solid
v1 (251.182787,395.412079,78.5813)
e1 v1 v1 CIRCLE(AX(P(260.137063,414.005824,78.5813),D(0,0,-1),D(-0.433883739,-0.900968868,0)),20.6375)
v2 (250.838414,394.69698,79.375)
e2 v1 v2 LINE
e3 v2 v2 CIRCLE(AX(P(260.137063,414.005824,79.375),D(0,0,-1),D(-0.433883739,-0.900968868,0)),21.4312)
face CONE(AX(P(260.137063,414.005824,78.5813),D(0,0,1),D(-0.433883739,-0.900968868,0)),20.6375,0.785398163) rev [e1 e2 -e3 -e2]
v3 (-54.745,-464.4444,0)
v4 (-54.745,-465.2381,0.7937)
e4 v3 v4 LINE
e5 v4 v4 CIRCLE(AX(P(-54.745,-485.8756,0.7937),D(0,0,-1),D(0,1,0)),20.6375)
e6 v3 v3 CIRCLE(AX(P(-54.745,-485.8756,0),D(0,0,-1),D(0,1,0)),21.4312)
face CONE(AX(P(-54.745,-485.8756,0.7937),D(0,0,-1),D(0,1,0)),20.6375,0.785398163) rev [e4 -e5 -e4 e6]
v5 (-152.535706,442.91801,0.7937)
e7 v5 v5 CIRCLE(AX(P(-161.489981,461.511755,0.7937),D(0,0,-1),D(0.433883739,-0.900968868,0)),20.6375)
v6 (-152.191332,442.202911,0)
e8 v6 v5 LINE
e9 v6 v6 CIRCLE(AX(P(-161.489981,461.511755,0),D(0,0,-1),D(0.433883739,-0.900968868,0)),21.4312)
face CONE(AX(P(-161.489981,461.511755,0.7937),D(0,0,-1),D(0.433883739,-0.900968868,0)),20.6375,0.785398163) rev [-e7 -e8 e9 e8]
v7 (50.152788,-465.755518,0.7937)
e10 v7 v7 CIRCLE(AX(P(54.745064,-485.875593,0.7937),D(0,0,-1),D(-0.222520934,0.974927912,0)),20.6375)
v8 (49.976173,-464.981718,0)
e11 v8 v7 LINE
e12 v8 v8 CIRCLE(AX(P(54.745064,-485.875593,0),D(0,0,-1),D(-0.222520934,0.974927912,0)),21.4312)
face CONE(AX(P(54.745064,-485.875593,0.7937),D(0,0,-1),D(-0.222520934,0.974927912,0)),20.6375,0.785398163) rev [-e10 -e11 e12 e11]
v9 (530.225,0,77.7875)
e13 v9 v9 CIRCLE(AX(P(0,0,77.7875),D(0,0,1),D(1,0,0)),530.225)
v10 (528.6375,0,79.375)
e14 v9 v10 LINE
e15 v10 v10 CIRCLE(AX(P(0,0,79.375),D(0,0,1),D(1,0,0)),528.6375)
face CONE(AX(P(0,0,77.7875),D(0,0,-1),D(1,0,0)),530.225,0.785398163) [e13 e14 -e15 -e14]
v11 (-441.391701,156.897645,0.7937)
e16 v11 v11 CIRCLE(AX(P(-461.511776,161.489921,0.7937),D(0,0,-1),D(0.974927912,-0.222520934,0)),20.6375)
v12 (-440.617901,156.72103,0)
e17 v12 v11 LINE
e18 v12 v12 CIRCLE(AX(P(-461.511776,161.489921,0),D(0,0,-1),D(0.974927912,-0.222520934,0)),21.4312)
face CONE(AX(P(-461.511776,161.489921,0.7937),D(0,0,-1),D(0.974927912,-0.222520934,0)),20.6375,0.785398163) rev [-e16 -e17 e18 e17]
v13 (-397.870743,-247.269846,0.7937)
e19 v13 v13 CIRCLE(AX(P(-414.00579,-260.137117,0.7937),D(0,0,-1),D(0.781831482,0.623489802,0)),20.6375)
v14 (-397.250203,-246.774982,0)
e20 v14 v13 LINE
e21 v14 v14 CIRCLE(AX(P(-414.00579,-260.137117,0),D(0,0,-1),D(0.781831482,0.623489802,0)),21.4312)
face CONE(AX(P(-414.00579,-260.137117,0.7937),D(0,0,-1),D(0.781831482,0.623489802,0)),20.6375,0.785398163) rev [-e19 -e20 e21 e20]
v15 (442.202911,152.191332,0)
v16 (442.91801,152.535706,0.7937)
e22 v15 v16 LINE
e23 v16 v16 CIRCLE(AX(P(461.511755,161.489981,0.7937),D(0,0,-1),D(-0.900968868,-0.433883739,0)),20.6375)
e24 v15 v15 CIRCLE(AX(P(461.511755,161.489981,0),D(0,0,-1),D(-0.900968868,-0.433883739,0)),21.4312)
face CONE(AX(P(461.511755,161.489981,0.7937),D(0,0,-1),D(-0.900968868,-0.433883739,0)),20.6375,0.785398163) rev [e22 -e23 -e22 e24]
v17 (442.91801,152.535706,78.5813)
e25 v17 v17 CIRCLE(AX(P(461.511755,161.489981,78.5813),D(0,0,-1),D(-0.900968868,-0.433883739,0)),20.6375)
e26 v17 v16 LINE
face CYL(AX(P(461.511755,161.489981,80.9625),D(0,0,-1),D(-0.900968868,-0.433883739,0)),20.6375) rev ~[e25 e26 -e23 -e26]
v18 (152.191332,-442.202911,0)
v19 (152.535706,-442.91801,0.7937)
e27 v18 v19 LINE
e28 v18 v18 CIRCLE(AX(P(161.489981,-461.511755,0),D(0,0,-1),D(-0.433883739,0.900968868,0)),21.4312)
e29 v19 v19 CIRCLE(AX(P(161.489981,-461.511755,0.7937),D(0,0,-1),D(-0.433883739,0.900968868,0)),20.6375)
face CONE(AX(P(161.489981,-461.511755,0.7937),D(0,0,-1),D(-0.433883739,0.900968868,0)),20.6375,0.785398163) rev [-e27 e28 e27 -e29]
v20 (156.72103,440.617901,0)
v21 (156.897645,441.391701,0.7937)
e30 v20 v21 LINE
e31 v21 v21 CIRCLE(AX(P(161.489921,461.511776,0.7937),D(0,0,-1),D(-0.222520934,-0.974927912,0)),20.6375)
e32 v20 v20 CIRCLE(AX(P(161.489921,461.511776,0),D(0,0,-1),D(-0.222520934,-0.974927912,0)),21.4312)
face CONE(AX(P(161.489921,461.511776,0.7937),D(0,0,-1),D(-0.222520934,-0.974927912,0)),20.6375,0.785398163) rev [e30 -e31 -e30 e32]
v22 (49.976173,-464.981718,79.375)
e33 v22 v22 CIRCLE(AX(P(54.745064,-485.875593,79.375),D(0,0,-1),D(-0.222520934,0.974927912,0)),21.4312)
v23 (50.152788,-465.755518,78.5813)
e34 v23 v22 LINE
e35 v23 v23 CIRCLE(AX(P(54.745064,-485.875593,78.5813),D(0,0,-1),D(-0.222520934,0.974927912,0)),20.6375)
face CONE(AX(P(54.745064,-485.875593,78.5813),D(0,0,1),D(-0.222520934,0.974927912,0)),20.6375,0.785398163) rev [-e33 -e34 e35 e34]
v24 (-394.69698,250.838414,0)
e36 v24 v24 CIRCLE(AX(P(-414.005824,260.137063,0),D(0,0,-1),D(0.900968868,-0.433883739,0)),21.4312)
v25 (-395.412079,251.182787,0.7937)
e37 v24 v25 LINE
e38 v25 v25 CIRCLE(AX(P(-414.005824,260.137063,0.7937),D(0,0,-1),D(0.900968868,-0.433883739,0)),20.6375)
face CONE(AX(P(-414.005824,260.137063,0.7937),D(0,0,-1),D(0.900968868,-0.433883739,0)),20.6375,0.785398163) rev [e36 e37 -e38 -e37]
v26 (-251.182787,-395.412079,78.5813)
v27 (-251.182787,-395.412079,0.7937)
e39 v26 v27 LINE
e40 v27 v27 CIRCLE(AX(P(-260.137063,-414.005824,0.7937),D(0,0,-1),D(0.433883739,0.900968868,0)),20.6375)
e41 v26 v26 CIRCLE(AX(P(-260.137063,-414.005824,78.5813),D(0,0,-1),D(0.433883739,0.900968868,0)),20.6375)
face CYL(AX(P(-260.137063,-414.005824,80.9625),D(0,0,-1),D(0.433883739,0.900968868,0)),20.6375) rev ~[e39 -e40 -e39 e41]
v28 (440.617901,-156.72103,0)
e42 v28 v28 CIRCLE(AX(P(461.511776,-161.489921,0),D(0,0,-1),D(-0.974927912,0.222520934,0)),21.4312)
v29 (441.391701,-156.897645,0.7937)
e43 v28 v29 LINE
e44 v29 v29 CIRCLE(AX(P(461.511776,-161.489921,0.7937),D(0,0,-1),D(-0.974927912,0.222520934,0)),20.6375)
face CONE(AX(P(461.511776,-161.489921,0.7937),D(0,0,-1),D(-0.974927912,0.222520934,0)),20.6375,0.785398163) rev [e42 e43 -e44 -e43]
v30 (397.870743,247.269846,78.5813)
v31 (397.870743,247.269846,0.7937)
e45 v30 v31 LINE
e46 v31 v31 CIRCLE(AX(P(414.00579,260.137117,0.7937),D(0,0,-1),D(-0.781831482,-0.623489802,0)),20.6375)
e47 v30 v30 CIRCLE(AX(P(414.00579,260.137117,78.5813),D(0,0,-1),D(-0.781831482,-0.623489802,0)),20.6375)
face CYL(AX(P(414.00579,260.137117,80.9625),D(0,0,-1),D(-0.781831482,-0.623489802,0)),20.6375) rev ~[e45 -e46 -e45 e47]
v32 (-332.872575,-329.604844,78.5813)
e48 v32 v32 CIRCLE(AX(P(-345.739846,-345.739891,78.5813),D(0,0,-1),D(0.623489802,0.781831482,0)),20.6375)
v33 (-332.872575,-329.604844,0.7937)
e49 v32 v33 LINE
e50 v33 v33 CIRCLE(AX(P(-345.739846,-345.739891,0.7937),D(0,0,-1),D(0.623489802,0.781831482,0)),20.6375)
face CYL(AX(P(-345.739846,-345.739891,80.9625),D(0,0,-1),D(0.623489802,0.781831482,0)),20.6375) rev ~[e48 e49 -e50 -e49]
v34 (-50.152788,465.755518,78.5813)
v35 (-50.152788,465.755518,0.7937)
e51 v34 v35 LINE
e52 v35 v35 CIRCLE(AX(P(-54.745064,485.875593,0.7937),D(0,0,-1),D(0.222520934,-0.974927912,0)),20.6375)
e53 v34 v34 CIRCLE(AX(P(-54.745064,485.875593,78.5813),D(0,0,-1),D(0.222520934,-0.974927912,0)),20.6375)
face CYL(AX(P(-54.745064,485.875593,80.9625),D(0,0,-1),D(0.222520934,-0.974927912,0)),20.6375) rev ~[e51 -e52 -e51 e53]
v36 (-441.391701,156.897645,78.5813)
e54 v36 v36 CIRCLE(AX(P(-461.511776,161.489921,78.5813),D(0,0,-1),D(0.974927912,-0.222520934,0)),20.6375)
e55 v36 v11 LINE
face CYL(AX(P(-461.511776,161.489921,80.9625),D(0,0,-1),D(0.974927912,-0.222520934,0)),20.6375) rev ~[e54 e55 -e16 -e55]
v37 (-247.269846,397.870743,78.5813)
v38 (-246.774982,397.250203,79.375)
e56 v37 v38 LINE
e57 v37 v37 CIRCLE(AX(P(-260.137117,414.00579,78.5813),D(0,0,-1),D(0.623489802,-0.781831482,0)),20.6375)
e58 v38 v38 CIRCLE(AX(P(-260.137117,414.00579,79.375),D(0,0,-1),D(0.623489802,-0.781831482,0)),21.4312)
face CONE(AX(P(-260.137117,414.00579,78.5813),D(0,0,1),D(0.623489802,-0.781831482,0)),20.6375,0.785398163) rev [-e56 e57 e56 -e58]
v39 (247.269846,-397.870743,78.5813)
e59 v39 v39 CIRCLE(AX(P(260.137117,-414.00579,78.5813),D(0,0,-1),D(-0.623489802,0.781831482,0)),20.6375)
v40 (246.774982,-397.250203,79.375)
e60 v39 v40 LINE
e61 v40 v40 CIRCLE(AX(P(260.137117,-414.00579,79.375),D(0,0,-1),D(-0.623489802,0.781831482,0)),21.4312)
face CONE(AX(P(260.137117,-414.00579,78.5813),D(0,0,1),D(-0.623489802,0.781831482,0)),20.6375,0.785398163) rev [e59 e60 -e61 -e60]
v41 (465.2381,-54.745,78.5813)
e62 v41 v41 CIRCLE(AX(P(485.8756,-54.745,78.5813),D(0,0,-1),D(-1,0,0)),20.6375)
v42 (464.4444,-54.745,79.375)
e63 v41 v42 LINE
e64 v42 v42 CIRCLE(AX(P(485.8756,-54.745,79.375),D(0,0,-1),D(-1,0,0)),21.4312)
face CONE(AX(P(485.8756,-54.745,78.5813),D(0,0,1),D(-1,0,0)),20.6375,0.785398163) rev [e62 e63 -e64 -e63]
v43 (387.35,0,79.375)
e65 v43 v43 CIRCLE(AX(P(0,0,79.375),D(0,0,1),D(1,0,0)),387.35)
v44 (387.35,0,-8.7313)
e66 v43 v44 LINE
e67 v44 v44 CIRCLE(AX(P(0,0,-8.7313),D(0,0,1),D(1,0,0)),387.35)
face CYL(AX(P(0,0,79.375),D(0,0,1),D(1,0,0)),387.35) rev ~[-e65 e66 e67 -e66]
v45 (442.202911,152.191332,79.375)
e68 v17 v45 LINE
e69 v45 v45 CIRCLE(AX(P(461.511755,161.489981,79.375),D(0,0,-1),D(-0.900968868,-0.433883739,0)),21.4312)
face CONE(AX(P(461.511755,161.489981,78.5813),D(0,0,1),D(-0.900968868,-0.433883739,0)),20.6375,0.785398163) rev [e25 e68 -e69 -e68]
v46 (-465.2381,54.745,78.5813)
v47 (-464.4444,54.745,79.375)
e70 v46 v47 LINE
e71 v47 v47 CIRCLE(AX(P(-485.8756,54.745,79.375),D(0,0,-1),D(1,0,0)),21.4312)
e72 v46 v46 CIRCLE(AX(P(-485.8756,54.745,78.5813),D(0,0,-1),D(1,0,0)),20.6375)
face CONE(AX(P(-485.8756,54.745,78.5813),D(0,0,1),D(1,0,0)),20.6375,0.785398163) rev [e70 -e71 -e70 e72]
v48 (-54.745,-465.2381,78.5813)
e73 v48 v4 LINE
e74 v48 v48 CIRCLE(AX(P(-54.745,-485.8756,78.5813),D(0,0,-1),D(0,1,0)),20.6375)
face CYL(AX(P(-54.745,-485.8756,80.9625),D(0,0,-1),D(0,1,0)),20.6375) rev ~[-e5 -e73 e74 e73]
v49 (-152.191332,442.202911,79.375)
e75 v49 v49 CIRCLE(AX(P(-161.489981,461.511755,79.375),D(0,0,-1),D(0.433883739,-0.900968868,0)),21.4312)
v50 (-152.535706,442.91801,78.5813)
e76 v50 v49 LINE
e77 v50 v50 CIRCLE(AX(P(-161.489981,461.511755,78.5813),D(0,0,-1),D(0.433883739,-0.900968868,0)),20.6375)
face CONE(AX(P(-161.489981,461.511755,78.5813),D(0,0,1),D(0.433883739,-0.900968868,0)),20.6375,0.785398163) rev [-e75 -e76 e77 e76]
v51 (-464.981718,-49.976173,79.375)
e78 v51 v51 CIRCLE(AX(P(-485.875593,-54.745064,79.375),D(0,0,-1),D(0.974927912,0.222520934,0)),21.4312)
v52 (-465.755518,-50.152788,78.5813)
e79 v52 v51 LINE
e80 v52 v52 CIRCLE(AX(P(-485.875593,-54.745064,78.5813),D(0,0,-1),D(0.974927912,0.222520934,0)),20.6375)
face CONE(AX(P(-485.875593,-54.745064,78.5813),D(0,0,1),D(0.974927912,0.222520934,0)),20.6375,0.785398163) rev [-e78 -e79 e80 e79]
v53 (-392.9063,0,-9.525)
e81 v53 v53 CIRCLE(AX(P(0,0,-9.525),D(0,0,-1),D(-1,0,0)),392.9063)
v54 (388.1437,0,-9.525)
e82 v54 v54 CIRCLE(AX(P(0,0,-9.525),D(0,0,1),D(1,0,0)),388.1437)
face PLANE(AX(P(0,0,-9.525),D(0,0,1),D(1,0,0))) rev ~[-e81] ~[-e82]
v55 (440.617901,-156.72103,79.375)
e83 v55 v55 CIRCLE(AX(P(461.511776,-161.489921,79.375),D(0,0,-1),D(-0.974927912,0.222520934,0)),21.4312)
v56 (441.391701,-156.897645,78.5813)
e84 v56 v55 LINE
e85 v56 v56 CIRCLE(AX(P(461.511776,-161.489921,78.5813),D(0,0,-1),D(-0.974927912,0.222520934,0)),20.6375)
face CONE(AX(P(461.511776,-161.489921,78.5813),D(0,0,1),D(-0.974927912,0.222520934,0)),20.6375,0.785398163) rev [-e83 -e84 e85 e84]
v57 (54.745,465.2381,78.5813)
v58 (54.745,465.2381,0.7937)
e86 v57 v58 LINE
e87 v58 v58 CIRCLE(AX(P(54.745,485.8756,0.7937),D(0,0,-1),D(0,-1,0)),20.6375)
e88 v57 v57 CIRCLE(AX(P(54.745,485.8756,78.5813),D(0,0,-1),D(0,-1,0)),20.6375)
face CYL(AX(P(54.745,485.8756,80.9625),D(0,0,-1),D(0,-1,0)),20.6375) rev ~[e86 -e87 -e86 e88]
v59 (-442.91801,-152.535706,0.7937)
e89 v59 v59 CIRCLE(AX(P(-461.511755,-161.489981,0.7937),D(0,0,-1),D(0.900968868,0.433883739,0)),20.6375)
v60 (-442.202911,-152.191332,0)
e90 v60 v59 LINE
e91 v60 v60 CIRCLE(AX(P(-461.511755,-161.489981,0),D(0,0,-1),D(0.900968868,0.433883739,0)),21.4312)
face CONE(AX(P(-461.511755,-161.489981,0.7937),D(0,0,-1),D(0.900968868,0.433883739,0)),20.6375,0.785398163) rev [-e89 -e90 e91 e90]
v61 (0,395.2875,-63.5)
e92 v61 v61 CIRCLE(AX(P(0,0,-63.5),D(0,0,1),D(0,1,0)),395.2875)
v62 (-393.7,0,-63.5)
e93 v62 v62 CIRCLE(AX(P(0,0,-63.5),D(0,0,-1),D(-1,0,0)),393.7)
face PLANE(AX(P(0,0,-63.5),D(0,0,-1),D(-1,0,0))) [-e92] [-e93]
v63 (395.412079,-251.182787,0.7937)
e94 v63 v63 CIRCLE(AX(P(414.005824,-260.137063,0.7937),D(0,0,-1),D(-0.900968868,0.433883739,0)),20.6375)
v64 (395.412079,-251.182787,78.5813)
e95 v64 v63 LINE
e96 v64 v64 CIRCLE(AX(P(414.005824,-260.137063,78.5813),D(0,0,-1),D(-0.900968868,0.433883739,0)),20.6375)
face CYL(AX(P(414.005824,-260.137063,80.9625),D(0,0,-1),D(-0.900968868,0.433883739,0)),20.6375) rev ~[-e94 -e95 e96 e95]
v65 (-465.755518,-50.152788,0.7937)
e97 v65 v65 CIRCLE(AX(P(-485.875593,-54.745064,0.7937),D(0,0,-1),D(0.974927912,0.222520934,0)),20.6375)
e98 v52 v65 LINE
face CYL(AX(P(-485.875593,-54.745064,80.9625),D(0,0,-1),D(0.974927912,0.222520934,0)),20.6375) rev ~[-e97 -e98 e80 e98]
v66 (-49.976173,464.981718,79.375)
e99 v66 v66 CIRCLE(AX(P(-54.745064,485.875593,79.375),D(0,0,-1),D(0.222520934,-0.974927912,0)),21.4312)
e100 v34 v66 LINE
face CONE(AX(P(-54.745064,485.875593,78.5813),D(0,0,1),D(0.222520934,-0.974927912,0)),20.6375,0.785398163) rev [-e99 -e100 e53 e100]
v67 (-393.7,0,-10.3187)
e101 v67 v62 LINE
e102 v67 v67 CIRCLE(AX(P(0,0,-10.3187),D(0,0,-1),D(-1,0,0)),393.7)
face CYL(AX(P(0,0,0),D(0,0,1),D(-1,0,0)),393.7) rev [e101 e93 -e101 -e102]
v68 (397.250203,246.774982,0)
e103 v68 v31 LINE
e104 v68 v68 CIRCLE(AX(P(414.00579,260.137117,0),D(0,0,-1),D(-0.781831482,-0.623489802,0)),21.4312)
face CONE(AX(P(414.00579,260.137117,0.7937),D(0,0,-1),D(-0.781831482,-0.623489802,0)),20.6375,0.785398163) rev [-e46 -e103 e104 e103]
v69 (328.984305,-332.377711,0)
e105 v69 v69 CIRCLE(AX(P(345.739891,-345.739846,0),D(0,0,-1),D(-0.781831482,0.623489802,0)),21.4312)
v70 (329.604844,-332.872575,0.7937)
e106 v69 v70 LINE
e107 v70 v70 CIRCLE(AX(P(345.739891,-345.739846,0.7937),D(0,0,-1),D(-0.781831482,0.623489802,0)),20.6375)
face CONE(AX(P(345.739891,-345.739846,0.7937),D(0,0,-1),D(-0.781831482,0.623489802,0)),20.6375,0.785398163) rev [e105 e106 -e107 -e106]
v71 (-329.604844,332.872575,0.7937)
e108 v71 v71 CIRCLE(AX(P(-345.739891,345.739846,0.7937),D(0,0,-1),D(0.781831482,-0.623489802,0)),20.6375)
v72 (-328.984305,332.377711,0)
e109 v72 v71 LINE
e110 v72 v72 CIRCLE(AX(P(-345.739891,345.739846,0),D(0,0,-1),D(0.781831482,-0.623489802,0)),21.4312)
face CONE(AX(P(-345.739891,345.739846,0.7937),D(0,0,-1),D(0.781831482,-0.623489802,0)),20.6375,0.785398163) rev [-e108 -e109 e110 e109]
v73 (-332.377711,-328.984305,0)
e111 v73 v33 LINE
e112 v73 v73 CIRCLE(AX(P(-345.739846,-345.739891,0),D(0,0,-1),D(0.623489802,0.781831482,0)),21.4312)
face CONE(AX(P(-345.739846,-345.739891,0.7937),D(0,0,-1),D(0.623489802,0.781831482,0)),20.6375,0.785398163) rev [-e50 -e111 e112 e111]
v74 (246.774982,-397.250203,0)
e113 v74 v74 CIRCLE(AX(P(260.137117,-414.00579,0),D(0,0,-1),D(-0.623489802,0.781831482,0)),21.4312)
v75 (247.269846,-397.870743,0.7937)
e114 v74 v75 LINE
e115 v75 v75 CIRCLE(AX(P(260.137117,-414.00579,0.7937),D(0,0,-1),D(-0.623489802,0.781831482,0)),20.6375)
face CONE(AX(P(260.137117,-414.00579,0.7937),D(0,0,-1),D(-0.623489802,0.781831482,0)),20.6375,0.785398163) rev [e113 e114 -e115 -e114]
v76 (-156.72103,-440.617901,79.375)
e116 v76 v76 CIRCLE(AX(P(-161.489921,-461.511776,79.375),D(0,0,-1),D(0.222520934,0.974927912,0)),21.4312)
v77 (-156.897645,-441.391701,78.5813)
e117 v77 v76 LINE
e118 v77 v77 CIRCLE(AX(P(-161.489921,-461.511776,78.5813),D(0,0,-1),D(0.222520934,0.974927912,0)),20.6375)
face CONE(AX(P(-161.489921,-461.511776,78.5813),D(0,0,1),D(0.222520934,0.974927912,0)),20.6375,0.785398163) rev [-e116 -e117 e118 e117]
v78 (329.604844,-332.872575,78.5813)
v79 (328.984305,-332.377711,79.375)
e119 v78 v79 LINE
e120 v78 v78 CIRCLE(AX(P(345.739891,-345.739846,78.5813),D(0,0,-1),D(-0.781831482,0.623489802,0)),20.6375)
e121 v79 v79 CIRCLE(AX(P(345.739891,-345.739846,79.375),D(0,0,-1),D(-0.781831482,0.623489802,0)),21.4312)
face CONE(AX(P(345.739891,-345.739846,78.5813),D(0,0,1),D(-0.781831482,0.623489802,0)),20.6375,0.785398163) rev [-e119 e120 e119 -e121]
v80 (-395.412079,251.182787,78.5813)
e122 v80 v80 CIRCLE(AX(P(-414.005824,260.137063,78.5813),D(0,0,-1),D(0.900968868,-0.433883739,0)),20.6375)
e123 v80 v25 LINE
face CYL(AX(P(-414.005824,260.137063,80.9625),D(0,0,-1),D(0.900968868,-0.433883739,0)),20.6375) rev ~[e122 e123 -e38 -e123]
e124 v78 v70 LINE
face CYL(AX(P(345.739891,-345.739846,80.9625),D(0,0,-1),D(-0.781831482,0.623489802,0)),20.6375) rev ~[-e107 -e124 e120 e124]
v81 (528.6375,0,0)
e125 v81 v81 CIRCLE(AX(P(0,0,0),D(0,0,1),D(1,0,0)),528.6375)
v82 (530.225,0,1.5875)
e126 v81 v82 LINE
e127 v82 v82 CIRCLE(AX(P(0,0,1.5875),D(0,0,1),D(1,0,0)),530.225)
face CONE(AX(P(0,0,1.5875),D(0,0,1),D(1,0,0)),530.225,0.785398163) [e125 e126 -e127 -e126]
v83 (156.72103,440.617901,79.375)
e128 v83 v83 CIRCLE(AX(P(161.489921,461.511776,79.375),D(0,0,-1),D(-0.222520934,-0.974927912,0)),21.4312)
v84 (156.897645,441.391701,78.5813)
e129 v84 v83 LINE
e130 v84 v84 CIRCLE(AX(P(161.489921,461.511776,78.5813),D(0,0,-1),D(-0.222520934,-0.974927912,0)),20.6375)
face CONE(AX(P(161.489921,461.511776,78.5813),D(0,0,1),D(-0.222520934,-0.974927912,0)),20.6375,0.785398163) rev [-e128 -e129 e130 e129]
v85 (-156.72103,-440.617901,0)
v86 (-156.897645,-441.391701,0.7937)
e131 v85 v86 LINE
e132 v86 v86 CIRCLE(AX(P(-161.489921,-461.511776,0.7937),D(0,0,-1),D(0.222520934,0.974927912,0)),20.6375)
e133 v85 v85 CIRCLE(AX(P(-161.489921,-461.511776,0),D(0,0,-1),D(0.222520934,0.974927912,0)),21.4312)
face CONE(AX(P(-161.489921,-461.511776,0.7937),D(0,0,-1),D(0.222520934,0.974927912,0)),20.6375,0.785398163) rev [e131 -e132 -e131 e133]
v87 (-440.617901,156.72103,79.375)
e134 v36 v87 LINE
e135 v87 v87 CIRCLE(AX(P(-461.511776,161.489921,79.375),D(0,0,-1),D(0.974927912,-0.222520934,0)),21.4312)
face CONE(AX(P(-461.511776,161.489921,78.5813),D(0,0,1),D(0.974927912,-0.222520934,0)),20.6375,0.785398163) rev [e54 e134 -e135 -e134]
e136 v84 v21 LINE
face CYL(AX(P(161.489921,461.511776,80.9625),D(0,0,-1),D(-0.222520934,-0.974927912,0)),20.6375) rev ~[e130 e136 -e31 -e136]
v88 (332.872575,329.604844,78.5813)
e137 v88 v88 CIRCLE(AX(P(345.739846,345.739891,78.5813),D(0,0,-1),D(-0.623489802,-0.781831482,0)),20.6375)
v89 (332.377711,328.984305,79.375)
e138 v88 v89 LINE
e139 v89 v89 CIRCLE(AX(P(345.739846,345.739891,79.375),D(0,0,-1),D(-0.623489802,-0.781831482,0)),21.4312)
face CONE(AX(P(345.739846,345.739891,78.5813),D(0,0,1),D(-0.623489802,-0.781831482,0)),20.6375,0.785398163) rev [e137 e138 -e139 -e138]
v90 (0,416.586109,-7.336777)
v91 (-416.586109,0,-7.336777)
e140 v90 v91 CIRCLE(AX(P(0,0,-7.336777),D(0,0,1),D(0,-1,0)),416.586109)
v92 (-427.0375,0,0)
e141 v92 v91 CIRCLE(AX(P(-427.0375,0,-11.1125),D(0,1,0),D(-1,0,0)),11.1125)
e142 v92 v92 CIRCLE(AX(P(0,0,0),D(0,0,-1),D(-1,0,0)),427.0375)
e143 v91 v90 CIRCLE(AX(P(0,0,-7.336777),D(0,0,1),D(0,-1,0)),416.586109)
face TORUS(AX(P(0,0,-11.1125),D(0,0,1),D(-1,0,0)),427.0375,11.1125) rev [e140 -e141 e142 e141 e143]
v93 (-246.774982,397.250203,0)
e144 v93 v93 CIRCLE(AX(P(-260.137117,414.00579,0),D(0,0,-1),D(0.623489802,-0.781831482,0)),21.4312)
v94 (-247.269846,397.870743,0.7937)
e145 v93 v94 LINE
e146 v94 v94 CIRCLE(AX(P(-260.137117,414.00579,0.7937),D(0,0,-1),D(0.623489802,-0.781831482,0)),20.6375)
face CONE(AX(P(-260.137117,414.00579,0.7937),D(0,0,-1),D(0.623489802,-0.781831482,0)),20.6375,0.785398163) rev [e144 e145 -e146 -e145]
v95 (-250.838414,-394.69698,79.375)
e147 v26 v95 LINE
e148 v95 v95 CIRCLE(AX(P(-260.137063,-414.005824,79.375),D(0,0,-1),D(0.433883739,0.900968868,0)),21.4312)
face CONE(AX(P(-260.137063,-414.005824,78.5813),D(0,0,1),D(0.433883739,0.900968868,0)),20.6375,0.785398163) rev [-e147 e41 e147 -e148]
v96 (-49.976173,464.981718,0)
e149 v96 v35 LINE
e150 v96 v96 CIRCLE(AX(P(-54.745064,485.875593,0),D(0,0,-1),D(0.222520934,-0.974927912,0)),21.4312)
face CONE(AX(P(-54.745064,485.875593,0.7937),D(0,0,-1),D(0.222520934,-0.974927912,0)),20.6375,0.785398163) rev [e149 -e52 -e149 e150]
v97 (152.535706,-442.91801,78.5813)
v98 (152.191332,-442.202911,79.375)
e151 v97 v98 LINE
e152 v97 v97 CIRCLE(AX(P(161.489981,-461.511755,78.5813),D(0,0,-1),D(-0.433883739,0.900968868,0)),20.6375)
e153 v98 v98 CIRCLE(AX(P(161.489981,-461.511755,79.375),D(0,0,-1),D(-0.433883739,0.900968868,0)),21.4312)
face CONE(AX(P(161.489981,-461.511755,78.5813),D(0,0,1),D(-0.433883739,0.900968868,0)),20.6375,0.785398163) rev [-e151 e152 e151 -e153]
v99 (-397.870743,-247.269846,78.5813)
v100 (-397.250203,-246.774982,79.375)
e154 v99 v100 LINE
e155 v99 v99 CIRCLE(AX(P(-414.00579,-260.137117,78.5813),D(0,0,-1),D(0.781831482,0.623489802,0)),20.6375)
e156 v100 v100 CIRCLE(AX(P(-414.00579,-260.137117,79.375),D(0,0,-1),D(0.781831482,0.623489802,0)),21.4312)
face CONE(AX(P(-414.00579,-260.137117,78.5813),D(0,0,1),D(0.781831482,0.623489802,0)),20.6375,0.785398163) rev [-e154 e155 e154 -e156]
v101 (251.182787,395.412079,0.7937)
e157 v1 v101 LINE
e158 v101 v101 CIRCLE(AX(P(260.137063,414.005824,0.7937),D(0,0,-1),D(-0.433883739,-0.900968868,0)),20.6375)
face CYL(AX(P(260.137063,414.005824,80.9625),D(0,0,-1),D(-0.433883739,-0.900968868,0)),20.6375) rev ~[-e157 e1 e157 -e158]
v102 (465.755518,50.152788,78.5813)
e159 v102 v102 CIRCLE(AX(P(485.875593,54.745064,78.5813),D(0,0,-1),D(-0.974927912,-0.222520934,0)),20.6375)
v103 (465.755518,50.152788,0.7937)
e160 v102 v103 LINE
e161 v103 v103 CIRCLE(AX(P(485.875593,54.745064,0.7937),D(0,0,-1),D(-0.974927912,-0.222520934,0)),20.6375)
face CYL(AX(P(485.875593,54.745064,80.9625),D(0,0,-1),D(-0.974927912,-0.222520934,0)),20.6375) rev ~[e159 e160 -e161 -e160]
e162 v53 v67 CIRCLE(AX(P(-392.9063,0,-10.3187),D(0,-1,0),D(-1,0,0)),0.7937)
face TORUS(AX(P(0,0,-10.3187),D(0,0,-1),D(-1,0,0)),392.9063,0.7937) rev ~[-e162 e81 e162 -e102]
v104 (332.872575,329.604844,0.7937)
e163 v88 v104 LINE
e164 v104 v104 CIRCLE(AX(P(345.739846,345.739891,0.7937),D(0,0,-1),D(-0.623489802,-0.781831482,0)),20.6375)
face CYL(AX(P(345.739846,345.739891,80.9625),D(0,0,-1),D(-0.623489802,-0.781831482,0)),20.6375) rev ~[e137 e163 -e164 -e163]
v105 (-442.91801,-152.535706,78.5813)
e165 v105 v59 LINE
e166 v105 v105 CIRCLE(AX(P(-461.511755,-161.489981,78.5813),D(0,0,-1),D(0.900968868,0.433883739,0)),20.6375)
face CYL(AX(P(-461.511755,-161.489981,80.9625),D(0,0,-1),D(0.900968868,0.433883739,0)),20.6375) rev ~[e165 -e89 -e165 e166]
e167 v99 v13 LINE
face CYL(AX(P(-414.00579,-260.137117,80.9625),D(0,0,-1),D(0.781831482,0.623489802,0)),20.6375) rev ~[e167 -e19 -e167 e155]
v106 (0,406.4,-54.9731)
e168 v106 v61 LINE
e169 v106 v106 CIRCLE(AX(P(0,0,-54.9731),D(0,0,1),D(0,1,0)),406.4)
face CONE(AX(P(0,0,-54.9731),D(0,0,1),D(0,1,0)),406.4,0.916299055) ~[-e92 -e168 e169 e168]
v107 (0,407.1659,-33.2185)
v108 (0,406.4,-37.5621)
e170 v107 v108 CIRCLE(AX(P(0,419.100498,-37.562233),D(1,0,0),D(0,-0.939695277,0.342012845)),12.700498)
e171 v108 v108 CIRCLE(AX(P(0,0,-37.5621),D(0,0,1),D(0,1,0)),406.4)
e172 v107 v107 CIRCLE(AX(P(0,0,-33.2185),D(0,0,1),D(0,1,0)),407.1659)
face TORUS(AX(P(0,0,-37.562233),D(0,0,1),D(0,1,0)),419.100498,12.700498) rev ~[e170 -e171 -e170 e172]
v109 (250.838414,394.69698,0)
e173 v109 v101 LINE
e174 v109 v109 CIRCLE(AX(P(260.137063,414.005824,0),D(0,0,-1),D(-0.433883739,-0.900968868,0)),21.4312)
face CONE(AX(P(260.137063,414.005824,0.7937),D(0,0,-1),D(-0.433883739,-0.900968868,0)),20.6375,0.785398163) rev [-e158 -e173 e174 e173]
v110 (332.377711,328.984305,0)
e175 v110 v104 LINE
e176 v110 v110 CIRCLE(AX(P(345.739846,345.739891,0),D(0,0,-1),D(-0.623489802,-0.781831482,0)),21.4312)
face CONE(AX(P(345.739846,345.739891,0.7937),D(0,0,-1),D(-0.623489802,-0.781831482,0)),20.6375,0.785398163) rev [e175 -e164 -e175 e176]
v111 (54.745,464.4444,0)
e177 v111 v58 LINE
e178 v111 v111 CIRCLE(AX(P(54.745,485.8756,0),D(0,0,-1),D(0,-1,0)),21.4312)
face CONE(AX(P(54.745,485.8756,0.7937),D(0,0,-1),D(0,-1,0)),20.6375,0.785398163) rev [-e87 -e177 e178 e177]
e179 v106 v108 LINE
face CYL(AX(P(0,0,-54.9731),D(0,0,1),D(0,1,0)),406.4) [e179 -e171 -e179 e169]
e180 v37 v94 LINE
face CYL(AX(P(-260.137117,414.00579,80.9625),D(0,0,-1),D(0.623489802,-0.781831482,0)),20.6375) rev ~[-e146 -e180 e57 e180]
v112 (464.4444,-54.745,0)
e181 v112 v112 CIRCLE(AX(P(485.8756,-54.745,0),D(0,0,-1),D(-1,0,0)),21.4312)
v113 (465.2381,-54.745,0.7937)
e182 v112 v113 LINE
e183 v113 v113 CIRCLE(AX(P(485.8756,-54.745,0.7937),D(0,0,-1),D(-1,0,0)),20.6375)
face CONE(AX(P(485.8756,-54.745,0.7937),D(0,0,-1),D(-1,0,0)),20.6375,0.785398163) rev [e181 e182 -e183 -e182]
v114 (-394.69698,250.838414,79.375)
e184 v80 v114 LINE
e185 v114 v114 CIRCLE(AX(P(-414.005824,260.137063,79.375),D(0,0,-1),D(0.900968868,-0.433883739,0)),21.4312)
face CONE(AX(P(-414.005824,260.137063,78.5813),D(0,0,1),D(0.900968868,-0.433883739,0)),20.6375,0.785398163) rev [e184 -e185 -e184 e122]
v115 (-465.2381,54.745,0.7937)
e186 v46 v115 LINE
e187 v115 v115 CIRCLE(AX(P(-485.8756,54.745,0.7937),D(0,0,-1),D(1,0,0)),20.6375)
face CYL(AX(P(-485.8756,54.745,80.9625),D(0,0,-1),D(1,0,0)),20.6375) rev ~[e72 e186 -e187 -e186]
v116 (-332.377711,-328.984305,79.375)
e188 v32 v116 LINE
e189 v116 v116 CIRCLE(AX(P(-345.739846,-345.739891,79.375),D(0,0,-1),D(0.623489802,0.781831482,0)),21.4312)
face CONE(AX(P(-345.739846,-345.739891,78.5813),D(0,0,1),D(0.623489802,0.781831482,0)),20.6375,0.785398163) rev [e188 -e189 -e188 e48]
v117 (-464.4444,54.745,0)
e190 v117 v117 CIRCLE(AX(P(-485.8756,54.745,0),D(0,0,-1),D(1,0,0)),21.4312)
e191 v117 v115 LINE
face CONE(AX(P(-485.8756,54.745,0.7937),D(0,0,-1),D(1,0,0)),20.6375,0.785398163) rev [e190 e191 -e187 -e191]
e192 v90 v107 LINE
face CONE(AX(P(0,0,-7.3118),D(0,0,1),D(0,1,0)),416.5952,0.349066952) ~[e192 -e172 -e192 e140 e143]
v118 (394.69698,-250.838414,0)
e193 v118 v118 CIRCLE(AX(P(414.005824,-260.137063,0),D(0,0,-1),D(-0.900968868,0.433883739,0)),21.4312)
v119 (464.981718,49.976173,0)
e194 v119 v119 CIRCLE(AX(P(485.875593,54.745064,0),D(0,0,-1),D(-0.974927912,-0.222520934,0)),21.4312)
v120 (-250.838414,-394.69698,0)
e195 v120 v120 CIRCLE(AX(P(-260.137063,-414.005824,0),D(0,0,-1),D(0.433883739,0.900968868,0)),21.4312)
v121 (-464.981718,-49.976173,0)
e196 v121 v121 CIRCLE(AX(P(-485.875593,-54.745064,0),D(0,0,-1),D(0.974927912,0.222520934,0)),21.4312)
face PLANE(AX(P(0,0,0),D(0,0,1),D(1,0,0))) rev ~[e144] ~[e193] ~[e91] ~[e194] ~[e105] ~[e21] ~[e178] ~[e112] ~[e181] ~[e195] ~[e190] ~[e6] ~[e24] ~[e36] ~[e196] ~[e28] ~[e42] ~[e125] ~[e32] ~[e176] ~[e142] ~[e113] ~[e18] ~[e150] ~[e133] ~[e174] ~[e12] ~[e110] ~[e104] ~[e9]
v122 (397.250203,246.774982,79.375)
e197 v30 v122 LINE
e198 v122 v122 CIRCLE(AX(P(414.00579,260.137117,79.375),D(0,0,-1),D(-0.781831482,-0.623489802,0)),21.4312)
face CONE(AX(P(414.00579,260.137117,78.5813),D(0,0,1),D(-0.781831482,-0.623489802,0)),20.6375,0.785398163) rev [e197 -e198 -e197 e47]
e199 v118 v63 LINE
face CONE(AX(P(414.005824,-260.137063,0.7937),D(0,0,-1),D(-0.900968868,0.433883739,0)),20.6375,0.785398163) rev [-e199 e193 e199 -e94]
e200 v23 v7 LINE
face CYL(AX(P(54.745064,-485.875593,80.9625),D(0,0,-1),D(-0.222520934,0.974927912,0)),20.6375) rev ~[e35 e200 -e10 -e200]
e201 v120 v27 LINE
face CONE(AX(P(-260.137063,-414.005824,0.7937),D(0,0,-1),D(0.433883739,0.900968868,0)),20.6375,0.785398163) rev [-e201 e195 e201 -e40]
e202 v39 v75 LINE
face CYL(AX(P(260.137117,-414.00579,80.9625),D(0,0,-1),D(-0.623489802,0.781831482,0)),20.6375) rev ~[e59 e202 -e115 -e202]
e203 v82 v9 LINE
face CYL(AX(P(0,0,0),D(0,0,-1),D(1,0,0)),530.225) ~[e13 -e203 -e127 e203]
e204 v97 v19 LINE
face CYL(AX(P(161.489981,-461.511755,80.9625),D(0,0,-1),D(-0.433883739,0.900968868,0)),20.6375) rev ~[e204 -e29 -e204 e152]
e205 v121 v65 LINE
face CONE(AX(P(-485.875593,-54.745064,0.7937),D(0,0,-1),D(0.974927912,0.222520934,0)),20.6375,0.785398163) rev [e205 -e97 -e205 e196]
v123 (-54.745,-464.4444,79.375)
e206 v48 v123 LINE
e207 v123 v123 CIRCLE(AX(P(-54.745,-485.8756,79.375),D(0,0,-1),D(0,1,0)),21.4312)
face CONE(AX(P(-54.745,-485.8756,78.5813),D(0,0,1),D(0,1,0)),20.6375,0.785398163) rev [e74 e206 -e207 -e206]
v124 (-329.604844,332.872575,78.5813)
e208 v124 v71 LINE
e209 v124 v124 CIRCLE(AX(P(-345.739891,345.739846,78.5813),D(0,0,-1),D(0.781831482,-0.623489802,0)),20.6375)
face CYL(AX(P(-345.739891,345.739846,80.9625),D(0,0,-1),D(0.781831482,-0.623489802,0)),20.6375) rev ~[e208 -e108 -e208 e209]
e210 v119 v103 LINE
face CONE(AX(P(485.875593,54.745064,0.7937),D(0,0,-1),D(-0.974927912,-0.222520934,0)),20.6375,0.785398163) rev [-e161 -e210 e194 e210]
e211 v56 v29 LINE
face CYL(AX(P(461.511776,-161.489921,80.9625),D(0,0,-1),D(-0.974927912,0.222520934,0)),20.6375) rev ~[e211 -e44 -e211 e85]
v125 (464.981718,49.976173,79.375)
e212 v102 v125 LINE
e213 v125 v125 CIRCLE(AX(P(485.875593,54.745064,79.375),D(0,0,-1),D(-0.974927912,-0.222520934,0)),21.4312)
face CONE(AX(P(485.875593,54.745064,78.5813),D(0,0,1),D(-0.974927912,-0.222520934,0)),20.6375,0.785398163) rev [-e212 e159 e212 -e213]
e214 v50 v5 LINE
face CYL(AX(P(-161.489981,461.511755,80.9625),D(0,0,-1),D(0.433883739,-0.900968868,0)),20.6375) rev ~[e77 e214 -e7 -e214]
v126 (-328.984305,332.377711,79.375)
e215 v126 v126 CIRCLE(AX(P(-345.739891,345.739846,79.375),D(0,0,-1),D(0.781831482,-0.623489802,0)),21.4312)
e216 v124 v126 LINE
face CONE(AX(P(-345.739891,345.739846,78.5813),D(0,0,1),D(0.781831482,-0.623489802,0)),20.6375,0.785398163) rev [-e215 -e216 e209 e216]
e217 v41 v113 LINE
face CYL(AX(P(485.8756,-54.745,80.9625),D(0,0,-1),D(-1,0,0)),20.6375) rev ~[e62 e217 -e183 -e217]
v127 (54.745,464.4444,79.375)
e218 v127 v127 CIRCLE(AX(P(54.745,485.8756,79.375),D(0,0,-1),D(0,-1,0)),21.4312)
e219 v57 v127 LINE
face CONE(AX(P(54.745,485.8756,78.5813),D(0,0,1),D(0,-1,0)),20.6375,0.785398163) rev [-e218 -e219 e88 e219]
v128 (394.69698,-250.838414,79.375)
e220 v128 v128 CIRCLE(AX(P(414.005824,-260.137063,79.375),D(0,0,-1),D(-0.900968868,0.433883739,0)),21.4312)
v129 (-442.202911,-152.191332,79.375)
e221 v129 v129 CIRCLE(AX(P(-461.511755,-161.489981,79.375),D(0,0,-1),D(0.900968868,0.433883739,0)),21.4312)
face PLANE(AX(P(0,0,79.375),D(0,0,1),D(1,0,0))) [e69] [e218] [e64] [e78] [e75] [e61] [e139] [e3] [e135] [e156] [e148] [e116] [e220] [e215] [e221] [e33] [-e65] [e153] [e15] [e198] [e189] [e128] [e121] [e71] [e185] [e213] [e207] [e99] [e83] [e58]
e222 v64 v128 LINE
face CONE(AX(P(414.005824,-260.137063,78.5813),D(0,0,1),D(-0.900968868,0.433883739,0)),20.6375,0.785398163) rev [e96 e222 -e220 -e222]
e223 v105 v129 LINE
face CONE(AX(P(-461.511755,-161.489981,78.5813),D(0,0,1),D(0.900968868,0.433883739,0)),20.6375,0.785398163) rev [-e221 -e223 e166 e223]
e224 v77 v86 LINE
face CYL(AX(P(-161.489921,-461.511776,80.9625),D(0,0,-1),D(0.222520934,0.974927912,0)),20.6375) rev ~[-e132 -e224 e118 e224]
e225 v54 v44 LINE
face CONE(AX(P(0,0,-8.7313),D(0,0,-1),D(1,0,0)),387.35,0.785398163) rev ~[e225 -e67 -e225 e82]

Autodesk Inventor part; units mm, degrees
ref_plane "YZ Plane" through (0, 0, 0) normal (1, 0, 0) x (0, 1, 0)
ref_plane "XZ Plane" through (0, 0, 0) normal (0, 1, 0) x (-1, 0, 0)
ref_plane "XY Plane" through (0, 0, 0) normal (0, 0, 1) x (1, 0, 0)
sketch "Sketch1" plane through (0, 0, 0) normal (0, 0, 1) x (1, 0, 0)
  circle A0 centre (0, 0) radius 530.225
  circle A1 centre (0, 0) radius 393.7
  dimension "d0" = 1060.45
  dimension "d1" = 787.4
extrude "Extrusion1" add sketch "Sketch1" along normal blind 79.375
sketch "Sketch2" plane through (0, 0, 79.375) normal (0, 0, 1) x (1, 0, 0)
  circle A0 centre (0, 0) radius 393.7 projected
  circle A1 centre (0, 0) radius 530.225 projected
  circle A2 centre (0, 0) radius 457.2
  dimension "d4" = 914.4
extrude "Extrusion2" add sketch "Sketch2" along normal blind 1.5875 contours A2
sketch "Sketch3" plane through (0, 0, 0) normal (0, 0, -1) x (-1, 0, 0)
  circle A0 centre (0, 0) radius 393.7 projected
  circle A1 centre (0, 0) radius 530.225 projected
  circle A2 centre (0, 0) radius 415.925
  dimension "d7" = 831.85
extrude "Extrusion3" add sketch "Sketch3" along normal blind 63.5 contours A2
sketch "Sketch4" plane through (0, 0, 80.9625) normal (0, 0, 1) x (1, 0, 0)
  circle A0 centre (0, 0) radius 457.2 projected
  line L0 (0, -742.315) -> (0, 742.315) projected
  line L1 (-742.315, 0) -> (742.315, 0) projected
  line L2 (0, 0) -> (54.745, 485.8756) construction
  dimension "d13" = 488.95
  dimension "d14" = 6.429
hole "Hole1" at (54.745, 485.8756, 80.9625) direction (0, 0, -1) diameter 41.275 end through all
chamfer "Chamfer3" distance 0.7937 angle 45 2 edges at (54.745, 506.5131, 0) (54.745, 506.5131, 79.375)
pattern_circular "Circular Pattern1" count 28 over 360 about axis through (0, 0, -10) along (0, 0, -1) of "Hole1", "Chamfer3"
chamfer "Chamfer2" distance 1.5875 angle 45 2 edges at (-530.225, 0, 79.375) (-530.225, 0, 0)
fillet "Fillet2" radius 11.1125 1 edges at (415.925, 0, 0)
sketch "Sketch9" plane through (0, 0, 0) normal (1, 0, 0) x (0, 1, 0)
  line L0 (415.925, -11.1125) -> (415.925, -63.5) projected
  arc A0 (427.0375, 0) -> (415.925, -11.1125) centre (427.0375, -11.1125) ccw construction
  arc A1 (416.5952, -7.3118) -> (415.925, -11.1125) centre (427.0375, -11.1125) ccw
  line L1 (416.5952, -7.3118) -> (407.1659, -33.2185)
  line L2 (395.2875, -63.5) -> (415.925, -63.5)
  line L3 (406.4, -54.9731) -> (406.4, -37.5621)
  arc A2 (407.1659, -33.2185) -> (406.4, -37.5621) centre (419.1, -37.5621) ccw
  line L4 (0, -87.3125) -> (0, 112.7125) projected
  line L5 (393.7, -63.5) -> (393.7, 80.9625) construction
  line L6 (406.4, -54.9731) -> (395.2875, -63.5)
  point P0 (0, 0)
  dimension "d77" = 20
  dimension "d78" = 406.4
  dimension "d79" = 12.7
  dimension "d84" = 37.5
  dimension "d85" = 11.1125
revolve "Revolution3" cut sketch "Sketch9" angle 360 about axis through (0, 0, -10) along (0, 0, 1)
sketch "Sketch13" plane through (0, 0, 80.9625) normal (0, 0, 1) x (1, 0, 0)
  circle A0 centre (0, 0) radius 393.7 projected
  circle A1 centre (0, 0) radius 457.2 projected
extrude "Extrusion6" cut sketch "Sketch13" against normal blind 1.5875
sketch "Sketch14" plane through (0, 0, 79.375) normal (0, 0, 1) x (1, 0, 0)
  circle A0 centre (0, 0) radius 387.35
  circle A1 centre (0, 0) radius 393.7 projected
  dimension "d121" = 774.7
extrude "Extrusion7" add sketch "Sketch14" against normal blind 88.9
fillet "Fillet5" radius 0.7937 1 edges at (393.7, 0, -9.525)
chamfer "Chamfer9" distance 0.7937 angle 45 1 edges at (-387.35, 0, -9.525)
equation "\"d0\" = OD"
equation "\"d1\" = Bore"
equation "\"d2\" = Thickness"
equation "\"d4\" = RFDia"
equation "\"d5\" = RFDepth"
equation "\"d7\" = NeckDia"
equation "\"d8\" = NeckLength"
equation "\"d13\" = 0.5 * BCD"
equation "\"d15\" = HoleDia"
equation "\"d30\" = HoleChamfer"
equation "\"d25\" = RimChamfer"
equation "\"d29\" = NeckFillet"
equation "\"OD\" = 1060.45"
equation "\"Bore\" = 787.4"
equation "\"Thickness\" = 79.375"
equation "\"RFDia\" = 914.4"
equation "\"RFDepth\" = 1.5875"
equation "\"HoleDia\" = 41.275"
equation "\"BCD\" = 977.9"
equation "\"NeckDia\" = 831.85"
equation "\"NeckLength\" = 63.5"
equation "\"HoleChamfer\" = 0.79375"
equation "\"RimChamfer\" = 1.5875"
equation "\"NeckChamfer\" = 1.5875"
equation "\"NeckFillet\" = 11.1125"
properties part number "A1-19027-300-03 32in CL150 FFWN flange" material "A105N"
